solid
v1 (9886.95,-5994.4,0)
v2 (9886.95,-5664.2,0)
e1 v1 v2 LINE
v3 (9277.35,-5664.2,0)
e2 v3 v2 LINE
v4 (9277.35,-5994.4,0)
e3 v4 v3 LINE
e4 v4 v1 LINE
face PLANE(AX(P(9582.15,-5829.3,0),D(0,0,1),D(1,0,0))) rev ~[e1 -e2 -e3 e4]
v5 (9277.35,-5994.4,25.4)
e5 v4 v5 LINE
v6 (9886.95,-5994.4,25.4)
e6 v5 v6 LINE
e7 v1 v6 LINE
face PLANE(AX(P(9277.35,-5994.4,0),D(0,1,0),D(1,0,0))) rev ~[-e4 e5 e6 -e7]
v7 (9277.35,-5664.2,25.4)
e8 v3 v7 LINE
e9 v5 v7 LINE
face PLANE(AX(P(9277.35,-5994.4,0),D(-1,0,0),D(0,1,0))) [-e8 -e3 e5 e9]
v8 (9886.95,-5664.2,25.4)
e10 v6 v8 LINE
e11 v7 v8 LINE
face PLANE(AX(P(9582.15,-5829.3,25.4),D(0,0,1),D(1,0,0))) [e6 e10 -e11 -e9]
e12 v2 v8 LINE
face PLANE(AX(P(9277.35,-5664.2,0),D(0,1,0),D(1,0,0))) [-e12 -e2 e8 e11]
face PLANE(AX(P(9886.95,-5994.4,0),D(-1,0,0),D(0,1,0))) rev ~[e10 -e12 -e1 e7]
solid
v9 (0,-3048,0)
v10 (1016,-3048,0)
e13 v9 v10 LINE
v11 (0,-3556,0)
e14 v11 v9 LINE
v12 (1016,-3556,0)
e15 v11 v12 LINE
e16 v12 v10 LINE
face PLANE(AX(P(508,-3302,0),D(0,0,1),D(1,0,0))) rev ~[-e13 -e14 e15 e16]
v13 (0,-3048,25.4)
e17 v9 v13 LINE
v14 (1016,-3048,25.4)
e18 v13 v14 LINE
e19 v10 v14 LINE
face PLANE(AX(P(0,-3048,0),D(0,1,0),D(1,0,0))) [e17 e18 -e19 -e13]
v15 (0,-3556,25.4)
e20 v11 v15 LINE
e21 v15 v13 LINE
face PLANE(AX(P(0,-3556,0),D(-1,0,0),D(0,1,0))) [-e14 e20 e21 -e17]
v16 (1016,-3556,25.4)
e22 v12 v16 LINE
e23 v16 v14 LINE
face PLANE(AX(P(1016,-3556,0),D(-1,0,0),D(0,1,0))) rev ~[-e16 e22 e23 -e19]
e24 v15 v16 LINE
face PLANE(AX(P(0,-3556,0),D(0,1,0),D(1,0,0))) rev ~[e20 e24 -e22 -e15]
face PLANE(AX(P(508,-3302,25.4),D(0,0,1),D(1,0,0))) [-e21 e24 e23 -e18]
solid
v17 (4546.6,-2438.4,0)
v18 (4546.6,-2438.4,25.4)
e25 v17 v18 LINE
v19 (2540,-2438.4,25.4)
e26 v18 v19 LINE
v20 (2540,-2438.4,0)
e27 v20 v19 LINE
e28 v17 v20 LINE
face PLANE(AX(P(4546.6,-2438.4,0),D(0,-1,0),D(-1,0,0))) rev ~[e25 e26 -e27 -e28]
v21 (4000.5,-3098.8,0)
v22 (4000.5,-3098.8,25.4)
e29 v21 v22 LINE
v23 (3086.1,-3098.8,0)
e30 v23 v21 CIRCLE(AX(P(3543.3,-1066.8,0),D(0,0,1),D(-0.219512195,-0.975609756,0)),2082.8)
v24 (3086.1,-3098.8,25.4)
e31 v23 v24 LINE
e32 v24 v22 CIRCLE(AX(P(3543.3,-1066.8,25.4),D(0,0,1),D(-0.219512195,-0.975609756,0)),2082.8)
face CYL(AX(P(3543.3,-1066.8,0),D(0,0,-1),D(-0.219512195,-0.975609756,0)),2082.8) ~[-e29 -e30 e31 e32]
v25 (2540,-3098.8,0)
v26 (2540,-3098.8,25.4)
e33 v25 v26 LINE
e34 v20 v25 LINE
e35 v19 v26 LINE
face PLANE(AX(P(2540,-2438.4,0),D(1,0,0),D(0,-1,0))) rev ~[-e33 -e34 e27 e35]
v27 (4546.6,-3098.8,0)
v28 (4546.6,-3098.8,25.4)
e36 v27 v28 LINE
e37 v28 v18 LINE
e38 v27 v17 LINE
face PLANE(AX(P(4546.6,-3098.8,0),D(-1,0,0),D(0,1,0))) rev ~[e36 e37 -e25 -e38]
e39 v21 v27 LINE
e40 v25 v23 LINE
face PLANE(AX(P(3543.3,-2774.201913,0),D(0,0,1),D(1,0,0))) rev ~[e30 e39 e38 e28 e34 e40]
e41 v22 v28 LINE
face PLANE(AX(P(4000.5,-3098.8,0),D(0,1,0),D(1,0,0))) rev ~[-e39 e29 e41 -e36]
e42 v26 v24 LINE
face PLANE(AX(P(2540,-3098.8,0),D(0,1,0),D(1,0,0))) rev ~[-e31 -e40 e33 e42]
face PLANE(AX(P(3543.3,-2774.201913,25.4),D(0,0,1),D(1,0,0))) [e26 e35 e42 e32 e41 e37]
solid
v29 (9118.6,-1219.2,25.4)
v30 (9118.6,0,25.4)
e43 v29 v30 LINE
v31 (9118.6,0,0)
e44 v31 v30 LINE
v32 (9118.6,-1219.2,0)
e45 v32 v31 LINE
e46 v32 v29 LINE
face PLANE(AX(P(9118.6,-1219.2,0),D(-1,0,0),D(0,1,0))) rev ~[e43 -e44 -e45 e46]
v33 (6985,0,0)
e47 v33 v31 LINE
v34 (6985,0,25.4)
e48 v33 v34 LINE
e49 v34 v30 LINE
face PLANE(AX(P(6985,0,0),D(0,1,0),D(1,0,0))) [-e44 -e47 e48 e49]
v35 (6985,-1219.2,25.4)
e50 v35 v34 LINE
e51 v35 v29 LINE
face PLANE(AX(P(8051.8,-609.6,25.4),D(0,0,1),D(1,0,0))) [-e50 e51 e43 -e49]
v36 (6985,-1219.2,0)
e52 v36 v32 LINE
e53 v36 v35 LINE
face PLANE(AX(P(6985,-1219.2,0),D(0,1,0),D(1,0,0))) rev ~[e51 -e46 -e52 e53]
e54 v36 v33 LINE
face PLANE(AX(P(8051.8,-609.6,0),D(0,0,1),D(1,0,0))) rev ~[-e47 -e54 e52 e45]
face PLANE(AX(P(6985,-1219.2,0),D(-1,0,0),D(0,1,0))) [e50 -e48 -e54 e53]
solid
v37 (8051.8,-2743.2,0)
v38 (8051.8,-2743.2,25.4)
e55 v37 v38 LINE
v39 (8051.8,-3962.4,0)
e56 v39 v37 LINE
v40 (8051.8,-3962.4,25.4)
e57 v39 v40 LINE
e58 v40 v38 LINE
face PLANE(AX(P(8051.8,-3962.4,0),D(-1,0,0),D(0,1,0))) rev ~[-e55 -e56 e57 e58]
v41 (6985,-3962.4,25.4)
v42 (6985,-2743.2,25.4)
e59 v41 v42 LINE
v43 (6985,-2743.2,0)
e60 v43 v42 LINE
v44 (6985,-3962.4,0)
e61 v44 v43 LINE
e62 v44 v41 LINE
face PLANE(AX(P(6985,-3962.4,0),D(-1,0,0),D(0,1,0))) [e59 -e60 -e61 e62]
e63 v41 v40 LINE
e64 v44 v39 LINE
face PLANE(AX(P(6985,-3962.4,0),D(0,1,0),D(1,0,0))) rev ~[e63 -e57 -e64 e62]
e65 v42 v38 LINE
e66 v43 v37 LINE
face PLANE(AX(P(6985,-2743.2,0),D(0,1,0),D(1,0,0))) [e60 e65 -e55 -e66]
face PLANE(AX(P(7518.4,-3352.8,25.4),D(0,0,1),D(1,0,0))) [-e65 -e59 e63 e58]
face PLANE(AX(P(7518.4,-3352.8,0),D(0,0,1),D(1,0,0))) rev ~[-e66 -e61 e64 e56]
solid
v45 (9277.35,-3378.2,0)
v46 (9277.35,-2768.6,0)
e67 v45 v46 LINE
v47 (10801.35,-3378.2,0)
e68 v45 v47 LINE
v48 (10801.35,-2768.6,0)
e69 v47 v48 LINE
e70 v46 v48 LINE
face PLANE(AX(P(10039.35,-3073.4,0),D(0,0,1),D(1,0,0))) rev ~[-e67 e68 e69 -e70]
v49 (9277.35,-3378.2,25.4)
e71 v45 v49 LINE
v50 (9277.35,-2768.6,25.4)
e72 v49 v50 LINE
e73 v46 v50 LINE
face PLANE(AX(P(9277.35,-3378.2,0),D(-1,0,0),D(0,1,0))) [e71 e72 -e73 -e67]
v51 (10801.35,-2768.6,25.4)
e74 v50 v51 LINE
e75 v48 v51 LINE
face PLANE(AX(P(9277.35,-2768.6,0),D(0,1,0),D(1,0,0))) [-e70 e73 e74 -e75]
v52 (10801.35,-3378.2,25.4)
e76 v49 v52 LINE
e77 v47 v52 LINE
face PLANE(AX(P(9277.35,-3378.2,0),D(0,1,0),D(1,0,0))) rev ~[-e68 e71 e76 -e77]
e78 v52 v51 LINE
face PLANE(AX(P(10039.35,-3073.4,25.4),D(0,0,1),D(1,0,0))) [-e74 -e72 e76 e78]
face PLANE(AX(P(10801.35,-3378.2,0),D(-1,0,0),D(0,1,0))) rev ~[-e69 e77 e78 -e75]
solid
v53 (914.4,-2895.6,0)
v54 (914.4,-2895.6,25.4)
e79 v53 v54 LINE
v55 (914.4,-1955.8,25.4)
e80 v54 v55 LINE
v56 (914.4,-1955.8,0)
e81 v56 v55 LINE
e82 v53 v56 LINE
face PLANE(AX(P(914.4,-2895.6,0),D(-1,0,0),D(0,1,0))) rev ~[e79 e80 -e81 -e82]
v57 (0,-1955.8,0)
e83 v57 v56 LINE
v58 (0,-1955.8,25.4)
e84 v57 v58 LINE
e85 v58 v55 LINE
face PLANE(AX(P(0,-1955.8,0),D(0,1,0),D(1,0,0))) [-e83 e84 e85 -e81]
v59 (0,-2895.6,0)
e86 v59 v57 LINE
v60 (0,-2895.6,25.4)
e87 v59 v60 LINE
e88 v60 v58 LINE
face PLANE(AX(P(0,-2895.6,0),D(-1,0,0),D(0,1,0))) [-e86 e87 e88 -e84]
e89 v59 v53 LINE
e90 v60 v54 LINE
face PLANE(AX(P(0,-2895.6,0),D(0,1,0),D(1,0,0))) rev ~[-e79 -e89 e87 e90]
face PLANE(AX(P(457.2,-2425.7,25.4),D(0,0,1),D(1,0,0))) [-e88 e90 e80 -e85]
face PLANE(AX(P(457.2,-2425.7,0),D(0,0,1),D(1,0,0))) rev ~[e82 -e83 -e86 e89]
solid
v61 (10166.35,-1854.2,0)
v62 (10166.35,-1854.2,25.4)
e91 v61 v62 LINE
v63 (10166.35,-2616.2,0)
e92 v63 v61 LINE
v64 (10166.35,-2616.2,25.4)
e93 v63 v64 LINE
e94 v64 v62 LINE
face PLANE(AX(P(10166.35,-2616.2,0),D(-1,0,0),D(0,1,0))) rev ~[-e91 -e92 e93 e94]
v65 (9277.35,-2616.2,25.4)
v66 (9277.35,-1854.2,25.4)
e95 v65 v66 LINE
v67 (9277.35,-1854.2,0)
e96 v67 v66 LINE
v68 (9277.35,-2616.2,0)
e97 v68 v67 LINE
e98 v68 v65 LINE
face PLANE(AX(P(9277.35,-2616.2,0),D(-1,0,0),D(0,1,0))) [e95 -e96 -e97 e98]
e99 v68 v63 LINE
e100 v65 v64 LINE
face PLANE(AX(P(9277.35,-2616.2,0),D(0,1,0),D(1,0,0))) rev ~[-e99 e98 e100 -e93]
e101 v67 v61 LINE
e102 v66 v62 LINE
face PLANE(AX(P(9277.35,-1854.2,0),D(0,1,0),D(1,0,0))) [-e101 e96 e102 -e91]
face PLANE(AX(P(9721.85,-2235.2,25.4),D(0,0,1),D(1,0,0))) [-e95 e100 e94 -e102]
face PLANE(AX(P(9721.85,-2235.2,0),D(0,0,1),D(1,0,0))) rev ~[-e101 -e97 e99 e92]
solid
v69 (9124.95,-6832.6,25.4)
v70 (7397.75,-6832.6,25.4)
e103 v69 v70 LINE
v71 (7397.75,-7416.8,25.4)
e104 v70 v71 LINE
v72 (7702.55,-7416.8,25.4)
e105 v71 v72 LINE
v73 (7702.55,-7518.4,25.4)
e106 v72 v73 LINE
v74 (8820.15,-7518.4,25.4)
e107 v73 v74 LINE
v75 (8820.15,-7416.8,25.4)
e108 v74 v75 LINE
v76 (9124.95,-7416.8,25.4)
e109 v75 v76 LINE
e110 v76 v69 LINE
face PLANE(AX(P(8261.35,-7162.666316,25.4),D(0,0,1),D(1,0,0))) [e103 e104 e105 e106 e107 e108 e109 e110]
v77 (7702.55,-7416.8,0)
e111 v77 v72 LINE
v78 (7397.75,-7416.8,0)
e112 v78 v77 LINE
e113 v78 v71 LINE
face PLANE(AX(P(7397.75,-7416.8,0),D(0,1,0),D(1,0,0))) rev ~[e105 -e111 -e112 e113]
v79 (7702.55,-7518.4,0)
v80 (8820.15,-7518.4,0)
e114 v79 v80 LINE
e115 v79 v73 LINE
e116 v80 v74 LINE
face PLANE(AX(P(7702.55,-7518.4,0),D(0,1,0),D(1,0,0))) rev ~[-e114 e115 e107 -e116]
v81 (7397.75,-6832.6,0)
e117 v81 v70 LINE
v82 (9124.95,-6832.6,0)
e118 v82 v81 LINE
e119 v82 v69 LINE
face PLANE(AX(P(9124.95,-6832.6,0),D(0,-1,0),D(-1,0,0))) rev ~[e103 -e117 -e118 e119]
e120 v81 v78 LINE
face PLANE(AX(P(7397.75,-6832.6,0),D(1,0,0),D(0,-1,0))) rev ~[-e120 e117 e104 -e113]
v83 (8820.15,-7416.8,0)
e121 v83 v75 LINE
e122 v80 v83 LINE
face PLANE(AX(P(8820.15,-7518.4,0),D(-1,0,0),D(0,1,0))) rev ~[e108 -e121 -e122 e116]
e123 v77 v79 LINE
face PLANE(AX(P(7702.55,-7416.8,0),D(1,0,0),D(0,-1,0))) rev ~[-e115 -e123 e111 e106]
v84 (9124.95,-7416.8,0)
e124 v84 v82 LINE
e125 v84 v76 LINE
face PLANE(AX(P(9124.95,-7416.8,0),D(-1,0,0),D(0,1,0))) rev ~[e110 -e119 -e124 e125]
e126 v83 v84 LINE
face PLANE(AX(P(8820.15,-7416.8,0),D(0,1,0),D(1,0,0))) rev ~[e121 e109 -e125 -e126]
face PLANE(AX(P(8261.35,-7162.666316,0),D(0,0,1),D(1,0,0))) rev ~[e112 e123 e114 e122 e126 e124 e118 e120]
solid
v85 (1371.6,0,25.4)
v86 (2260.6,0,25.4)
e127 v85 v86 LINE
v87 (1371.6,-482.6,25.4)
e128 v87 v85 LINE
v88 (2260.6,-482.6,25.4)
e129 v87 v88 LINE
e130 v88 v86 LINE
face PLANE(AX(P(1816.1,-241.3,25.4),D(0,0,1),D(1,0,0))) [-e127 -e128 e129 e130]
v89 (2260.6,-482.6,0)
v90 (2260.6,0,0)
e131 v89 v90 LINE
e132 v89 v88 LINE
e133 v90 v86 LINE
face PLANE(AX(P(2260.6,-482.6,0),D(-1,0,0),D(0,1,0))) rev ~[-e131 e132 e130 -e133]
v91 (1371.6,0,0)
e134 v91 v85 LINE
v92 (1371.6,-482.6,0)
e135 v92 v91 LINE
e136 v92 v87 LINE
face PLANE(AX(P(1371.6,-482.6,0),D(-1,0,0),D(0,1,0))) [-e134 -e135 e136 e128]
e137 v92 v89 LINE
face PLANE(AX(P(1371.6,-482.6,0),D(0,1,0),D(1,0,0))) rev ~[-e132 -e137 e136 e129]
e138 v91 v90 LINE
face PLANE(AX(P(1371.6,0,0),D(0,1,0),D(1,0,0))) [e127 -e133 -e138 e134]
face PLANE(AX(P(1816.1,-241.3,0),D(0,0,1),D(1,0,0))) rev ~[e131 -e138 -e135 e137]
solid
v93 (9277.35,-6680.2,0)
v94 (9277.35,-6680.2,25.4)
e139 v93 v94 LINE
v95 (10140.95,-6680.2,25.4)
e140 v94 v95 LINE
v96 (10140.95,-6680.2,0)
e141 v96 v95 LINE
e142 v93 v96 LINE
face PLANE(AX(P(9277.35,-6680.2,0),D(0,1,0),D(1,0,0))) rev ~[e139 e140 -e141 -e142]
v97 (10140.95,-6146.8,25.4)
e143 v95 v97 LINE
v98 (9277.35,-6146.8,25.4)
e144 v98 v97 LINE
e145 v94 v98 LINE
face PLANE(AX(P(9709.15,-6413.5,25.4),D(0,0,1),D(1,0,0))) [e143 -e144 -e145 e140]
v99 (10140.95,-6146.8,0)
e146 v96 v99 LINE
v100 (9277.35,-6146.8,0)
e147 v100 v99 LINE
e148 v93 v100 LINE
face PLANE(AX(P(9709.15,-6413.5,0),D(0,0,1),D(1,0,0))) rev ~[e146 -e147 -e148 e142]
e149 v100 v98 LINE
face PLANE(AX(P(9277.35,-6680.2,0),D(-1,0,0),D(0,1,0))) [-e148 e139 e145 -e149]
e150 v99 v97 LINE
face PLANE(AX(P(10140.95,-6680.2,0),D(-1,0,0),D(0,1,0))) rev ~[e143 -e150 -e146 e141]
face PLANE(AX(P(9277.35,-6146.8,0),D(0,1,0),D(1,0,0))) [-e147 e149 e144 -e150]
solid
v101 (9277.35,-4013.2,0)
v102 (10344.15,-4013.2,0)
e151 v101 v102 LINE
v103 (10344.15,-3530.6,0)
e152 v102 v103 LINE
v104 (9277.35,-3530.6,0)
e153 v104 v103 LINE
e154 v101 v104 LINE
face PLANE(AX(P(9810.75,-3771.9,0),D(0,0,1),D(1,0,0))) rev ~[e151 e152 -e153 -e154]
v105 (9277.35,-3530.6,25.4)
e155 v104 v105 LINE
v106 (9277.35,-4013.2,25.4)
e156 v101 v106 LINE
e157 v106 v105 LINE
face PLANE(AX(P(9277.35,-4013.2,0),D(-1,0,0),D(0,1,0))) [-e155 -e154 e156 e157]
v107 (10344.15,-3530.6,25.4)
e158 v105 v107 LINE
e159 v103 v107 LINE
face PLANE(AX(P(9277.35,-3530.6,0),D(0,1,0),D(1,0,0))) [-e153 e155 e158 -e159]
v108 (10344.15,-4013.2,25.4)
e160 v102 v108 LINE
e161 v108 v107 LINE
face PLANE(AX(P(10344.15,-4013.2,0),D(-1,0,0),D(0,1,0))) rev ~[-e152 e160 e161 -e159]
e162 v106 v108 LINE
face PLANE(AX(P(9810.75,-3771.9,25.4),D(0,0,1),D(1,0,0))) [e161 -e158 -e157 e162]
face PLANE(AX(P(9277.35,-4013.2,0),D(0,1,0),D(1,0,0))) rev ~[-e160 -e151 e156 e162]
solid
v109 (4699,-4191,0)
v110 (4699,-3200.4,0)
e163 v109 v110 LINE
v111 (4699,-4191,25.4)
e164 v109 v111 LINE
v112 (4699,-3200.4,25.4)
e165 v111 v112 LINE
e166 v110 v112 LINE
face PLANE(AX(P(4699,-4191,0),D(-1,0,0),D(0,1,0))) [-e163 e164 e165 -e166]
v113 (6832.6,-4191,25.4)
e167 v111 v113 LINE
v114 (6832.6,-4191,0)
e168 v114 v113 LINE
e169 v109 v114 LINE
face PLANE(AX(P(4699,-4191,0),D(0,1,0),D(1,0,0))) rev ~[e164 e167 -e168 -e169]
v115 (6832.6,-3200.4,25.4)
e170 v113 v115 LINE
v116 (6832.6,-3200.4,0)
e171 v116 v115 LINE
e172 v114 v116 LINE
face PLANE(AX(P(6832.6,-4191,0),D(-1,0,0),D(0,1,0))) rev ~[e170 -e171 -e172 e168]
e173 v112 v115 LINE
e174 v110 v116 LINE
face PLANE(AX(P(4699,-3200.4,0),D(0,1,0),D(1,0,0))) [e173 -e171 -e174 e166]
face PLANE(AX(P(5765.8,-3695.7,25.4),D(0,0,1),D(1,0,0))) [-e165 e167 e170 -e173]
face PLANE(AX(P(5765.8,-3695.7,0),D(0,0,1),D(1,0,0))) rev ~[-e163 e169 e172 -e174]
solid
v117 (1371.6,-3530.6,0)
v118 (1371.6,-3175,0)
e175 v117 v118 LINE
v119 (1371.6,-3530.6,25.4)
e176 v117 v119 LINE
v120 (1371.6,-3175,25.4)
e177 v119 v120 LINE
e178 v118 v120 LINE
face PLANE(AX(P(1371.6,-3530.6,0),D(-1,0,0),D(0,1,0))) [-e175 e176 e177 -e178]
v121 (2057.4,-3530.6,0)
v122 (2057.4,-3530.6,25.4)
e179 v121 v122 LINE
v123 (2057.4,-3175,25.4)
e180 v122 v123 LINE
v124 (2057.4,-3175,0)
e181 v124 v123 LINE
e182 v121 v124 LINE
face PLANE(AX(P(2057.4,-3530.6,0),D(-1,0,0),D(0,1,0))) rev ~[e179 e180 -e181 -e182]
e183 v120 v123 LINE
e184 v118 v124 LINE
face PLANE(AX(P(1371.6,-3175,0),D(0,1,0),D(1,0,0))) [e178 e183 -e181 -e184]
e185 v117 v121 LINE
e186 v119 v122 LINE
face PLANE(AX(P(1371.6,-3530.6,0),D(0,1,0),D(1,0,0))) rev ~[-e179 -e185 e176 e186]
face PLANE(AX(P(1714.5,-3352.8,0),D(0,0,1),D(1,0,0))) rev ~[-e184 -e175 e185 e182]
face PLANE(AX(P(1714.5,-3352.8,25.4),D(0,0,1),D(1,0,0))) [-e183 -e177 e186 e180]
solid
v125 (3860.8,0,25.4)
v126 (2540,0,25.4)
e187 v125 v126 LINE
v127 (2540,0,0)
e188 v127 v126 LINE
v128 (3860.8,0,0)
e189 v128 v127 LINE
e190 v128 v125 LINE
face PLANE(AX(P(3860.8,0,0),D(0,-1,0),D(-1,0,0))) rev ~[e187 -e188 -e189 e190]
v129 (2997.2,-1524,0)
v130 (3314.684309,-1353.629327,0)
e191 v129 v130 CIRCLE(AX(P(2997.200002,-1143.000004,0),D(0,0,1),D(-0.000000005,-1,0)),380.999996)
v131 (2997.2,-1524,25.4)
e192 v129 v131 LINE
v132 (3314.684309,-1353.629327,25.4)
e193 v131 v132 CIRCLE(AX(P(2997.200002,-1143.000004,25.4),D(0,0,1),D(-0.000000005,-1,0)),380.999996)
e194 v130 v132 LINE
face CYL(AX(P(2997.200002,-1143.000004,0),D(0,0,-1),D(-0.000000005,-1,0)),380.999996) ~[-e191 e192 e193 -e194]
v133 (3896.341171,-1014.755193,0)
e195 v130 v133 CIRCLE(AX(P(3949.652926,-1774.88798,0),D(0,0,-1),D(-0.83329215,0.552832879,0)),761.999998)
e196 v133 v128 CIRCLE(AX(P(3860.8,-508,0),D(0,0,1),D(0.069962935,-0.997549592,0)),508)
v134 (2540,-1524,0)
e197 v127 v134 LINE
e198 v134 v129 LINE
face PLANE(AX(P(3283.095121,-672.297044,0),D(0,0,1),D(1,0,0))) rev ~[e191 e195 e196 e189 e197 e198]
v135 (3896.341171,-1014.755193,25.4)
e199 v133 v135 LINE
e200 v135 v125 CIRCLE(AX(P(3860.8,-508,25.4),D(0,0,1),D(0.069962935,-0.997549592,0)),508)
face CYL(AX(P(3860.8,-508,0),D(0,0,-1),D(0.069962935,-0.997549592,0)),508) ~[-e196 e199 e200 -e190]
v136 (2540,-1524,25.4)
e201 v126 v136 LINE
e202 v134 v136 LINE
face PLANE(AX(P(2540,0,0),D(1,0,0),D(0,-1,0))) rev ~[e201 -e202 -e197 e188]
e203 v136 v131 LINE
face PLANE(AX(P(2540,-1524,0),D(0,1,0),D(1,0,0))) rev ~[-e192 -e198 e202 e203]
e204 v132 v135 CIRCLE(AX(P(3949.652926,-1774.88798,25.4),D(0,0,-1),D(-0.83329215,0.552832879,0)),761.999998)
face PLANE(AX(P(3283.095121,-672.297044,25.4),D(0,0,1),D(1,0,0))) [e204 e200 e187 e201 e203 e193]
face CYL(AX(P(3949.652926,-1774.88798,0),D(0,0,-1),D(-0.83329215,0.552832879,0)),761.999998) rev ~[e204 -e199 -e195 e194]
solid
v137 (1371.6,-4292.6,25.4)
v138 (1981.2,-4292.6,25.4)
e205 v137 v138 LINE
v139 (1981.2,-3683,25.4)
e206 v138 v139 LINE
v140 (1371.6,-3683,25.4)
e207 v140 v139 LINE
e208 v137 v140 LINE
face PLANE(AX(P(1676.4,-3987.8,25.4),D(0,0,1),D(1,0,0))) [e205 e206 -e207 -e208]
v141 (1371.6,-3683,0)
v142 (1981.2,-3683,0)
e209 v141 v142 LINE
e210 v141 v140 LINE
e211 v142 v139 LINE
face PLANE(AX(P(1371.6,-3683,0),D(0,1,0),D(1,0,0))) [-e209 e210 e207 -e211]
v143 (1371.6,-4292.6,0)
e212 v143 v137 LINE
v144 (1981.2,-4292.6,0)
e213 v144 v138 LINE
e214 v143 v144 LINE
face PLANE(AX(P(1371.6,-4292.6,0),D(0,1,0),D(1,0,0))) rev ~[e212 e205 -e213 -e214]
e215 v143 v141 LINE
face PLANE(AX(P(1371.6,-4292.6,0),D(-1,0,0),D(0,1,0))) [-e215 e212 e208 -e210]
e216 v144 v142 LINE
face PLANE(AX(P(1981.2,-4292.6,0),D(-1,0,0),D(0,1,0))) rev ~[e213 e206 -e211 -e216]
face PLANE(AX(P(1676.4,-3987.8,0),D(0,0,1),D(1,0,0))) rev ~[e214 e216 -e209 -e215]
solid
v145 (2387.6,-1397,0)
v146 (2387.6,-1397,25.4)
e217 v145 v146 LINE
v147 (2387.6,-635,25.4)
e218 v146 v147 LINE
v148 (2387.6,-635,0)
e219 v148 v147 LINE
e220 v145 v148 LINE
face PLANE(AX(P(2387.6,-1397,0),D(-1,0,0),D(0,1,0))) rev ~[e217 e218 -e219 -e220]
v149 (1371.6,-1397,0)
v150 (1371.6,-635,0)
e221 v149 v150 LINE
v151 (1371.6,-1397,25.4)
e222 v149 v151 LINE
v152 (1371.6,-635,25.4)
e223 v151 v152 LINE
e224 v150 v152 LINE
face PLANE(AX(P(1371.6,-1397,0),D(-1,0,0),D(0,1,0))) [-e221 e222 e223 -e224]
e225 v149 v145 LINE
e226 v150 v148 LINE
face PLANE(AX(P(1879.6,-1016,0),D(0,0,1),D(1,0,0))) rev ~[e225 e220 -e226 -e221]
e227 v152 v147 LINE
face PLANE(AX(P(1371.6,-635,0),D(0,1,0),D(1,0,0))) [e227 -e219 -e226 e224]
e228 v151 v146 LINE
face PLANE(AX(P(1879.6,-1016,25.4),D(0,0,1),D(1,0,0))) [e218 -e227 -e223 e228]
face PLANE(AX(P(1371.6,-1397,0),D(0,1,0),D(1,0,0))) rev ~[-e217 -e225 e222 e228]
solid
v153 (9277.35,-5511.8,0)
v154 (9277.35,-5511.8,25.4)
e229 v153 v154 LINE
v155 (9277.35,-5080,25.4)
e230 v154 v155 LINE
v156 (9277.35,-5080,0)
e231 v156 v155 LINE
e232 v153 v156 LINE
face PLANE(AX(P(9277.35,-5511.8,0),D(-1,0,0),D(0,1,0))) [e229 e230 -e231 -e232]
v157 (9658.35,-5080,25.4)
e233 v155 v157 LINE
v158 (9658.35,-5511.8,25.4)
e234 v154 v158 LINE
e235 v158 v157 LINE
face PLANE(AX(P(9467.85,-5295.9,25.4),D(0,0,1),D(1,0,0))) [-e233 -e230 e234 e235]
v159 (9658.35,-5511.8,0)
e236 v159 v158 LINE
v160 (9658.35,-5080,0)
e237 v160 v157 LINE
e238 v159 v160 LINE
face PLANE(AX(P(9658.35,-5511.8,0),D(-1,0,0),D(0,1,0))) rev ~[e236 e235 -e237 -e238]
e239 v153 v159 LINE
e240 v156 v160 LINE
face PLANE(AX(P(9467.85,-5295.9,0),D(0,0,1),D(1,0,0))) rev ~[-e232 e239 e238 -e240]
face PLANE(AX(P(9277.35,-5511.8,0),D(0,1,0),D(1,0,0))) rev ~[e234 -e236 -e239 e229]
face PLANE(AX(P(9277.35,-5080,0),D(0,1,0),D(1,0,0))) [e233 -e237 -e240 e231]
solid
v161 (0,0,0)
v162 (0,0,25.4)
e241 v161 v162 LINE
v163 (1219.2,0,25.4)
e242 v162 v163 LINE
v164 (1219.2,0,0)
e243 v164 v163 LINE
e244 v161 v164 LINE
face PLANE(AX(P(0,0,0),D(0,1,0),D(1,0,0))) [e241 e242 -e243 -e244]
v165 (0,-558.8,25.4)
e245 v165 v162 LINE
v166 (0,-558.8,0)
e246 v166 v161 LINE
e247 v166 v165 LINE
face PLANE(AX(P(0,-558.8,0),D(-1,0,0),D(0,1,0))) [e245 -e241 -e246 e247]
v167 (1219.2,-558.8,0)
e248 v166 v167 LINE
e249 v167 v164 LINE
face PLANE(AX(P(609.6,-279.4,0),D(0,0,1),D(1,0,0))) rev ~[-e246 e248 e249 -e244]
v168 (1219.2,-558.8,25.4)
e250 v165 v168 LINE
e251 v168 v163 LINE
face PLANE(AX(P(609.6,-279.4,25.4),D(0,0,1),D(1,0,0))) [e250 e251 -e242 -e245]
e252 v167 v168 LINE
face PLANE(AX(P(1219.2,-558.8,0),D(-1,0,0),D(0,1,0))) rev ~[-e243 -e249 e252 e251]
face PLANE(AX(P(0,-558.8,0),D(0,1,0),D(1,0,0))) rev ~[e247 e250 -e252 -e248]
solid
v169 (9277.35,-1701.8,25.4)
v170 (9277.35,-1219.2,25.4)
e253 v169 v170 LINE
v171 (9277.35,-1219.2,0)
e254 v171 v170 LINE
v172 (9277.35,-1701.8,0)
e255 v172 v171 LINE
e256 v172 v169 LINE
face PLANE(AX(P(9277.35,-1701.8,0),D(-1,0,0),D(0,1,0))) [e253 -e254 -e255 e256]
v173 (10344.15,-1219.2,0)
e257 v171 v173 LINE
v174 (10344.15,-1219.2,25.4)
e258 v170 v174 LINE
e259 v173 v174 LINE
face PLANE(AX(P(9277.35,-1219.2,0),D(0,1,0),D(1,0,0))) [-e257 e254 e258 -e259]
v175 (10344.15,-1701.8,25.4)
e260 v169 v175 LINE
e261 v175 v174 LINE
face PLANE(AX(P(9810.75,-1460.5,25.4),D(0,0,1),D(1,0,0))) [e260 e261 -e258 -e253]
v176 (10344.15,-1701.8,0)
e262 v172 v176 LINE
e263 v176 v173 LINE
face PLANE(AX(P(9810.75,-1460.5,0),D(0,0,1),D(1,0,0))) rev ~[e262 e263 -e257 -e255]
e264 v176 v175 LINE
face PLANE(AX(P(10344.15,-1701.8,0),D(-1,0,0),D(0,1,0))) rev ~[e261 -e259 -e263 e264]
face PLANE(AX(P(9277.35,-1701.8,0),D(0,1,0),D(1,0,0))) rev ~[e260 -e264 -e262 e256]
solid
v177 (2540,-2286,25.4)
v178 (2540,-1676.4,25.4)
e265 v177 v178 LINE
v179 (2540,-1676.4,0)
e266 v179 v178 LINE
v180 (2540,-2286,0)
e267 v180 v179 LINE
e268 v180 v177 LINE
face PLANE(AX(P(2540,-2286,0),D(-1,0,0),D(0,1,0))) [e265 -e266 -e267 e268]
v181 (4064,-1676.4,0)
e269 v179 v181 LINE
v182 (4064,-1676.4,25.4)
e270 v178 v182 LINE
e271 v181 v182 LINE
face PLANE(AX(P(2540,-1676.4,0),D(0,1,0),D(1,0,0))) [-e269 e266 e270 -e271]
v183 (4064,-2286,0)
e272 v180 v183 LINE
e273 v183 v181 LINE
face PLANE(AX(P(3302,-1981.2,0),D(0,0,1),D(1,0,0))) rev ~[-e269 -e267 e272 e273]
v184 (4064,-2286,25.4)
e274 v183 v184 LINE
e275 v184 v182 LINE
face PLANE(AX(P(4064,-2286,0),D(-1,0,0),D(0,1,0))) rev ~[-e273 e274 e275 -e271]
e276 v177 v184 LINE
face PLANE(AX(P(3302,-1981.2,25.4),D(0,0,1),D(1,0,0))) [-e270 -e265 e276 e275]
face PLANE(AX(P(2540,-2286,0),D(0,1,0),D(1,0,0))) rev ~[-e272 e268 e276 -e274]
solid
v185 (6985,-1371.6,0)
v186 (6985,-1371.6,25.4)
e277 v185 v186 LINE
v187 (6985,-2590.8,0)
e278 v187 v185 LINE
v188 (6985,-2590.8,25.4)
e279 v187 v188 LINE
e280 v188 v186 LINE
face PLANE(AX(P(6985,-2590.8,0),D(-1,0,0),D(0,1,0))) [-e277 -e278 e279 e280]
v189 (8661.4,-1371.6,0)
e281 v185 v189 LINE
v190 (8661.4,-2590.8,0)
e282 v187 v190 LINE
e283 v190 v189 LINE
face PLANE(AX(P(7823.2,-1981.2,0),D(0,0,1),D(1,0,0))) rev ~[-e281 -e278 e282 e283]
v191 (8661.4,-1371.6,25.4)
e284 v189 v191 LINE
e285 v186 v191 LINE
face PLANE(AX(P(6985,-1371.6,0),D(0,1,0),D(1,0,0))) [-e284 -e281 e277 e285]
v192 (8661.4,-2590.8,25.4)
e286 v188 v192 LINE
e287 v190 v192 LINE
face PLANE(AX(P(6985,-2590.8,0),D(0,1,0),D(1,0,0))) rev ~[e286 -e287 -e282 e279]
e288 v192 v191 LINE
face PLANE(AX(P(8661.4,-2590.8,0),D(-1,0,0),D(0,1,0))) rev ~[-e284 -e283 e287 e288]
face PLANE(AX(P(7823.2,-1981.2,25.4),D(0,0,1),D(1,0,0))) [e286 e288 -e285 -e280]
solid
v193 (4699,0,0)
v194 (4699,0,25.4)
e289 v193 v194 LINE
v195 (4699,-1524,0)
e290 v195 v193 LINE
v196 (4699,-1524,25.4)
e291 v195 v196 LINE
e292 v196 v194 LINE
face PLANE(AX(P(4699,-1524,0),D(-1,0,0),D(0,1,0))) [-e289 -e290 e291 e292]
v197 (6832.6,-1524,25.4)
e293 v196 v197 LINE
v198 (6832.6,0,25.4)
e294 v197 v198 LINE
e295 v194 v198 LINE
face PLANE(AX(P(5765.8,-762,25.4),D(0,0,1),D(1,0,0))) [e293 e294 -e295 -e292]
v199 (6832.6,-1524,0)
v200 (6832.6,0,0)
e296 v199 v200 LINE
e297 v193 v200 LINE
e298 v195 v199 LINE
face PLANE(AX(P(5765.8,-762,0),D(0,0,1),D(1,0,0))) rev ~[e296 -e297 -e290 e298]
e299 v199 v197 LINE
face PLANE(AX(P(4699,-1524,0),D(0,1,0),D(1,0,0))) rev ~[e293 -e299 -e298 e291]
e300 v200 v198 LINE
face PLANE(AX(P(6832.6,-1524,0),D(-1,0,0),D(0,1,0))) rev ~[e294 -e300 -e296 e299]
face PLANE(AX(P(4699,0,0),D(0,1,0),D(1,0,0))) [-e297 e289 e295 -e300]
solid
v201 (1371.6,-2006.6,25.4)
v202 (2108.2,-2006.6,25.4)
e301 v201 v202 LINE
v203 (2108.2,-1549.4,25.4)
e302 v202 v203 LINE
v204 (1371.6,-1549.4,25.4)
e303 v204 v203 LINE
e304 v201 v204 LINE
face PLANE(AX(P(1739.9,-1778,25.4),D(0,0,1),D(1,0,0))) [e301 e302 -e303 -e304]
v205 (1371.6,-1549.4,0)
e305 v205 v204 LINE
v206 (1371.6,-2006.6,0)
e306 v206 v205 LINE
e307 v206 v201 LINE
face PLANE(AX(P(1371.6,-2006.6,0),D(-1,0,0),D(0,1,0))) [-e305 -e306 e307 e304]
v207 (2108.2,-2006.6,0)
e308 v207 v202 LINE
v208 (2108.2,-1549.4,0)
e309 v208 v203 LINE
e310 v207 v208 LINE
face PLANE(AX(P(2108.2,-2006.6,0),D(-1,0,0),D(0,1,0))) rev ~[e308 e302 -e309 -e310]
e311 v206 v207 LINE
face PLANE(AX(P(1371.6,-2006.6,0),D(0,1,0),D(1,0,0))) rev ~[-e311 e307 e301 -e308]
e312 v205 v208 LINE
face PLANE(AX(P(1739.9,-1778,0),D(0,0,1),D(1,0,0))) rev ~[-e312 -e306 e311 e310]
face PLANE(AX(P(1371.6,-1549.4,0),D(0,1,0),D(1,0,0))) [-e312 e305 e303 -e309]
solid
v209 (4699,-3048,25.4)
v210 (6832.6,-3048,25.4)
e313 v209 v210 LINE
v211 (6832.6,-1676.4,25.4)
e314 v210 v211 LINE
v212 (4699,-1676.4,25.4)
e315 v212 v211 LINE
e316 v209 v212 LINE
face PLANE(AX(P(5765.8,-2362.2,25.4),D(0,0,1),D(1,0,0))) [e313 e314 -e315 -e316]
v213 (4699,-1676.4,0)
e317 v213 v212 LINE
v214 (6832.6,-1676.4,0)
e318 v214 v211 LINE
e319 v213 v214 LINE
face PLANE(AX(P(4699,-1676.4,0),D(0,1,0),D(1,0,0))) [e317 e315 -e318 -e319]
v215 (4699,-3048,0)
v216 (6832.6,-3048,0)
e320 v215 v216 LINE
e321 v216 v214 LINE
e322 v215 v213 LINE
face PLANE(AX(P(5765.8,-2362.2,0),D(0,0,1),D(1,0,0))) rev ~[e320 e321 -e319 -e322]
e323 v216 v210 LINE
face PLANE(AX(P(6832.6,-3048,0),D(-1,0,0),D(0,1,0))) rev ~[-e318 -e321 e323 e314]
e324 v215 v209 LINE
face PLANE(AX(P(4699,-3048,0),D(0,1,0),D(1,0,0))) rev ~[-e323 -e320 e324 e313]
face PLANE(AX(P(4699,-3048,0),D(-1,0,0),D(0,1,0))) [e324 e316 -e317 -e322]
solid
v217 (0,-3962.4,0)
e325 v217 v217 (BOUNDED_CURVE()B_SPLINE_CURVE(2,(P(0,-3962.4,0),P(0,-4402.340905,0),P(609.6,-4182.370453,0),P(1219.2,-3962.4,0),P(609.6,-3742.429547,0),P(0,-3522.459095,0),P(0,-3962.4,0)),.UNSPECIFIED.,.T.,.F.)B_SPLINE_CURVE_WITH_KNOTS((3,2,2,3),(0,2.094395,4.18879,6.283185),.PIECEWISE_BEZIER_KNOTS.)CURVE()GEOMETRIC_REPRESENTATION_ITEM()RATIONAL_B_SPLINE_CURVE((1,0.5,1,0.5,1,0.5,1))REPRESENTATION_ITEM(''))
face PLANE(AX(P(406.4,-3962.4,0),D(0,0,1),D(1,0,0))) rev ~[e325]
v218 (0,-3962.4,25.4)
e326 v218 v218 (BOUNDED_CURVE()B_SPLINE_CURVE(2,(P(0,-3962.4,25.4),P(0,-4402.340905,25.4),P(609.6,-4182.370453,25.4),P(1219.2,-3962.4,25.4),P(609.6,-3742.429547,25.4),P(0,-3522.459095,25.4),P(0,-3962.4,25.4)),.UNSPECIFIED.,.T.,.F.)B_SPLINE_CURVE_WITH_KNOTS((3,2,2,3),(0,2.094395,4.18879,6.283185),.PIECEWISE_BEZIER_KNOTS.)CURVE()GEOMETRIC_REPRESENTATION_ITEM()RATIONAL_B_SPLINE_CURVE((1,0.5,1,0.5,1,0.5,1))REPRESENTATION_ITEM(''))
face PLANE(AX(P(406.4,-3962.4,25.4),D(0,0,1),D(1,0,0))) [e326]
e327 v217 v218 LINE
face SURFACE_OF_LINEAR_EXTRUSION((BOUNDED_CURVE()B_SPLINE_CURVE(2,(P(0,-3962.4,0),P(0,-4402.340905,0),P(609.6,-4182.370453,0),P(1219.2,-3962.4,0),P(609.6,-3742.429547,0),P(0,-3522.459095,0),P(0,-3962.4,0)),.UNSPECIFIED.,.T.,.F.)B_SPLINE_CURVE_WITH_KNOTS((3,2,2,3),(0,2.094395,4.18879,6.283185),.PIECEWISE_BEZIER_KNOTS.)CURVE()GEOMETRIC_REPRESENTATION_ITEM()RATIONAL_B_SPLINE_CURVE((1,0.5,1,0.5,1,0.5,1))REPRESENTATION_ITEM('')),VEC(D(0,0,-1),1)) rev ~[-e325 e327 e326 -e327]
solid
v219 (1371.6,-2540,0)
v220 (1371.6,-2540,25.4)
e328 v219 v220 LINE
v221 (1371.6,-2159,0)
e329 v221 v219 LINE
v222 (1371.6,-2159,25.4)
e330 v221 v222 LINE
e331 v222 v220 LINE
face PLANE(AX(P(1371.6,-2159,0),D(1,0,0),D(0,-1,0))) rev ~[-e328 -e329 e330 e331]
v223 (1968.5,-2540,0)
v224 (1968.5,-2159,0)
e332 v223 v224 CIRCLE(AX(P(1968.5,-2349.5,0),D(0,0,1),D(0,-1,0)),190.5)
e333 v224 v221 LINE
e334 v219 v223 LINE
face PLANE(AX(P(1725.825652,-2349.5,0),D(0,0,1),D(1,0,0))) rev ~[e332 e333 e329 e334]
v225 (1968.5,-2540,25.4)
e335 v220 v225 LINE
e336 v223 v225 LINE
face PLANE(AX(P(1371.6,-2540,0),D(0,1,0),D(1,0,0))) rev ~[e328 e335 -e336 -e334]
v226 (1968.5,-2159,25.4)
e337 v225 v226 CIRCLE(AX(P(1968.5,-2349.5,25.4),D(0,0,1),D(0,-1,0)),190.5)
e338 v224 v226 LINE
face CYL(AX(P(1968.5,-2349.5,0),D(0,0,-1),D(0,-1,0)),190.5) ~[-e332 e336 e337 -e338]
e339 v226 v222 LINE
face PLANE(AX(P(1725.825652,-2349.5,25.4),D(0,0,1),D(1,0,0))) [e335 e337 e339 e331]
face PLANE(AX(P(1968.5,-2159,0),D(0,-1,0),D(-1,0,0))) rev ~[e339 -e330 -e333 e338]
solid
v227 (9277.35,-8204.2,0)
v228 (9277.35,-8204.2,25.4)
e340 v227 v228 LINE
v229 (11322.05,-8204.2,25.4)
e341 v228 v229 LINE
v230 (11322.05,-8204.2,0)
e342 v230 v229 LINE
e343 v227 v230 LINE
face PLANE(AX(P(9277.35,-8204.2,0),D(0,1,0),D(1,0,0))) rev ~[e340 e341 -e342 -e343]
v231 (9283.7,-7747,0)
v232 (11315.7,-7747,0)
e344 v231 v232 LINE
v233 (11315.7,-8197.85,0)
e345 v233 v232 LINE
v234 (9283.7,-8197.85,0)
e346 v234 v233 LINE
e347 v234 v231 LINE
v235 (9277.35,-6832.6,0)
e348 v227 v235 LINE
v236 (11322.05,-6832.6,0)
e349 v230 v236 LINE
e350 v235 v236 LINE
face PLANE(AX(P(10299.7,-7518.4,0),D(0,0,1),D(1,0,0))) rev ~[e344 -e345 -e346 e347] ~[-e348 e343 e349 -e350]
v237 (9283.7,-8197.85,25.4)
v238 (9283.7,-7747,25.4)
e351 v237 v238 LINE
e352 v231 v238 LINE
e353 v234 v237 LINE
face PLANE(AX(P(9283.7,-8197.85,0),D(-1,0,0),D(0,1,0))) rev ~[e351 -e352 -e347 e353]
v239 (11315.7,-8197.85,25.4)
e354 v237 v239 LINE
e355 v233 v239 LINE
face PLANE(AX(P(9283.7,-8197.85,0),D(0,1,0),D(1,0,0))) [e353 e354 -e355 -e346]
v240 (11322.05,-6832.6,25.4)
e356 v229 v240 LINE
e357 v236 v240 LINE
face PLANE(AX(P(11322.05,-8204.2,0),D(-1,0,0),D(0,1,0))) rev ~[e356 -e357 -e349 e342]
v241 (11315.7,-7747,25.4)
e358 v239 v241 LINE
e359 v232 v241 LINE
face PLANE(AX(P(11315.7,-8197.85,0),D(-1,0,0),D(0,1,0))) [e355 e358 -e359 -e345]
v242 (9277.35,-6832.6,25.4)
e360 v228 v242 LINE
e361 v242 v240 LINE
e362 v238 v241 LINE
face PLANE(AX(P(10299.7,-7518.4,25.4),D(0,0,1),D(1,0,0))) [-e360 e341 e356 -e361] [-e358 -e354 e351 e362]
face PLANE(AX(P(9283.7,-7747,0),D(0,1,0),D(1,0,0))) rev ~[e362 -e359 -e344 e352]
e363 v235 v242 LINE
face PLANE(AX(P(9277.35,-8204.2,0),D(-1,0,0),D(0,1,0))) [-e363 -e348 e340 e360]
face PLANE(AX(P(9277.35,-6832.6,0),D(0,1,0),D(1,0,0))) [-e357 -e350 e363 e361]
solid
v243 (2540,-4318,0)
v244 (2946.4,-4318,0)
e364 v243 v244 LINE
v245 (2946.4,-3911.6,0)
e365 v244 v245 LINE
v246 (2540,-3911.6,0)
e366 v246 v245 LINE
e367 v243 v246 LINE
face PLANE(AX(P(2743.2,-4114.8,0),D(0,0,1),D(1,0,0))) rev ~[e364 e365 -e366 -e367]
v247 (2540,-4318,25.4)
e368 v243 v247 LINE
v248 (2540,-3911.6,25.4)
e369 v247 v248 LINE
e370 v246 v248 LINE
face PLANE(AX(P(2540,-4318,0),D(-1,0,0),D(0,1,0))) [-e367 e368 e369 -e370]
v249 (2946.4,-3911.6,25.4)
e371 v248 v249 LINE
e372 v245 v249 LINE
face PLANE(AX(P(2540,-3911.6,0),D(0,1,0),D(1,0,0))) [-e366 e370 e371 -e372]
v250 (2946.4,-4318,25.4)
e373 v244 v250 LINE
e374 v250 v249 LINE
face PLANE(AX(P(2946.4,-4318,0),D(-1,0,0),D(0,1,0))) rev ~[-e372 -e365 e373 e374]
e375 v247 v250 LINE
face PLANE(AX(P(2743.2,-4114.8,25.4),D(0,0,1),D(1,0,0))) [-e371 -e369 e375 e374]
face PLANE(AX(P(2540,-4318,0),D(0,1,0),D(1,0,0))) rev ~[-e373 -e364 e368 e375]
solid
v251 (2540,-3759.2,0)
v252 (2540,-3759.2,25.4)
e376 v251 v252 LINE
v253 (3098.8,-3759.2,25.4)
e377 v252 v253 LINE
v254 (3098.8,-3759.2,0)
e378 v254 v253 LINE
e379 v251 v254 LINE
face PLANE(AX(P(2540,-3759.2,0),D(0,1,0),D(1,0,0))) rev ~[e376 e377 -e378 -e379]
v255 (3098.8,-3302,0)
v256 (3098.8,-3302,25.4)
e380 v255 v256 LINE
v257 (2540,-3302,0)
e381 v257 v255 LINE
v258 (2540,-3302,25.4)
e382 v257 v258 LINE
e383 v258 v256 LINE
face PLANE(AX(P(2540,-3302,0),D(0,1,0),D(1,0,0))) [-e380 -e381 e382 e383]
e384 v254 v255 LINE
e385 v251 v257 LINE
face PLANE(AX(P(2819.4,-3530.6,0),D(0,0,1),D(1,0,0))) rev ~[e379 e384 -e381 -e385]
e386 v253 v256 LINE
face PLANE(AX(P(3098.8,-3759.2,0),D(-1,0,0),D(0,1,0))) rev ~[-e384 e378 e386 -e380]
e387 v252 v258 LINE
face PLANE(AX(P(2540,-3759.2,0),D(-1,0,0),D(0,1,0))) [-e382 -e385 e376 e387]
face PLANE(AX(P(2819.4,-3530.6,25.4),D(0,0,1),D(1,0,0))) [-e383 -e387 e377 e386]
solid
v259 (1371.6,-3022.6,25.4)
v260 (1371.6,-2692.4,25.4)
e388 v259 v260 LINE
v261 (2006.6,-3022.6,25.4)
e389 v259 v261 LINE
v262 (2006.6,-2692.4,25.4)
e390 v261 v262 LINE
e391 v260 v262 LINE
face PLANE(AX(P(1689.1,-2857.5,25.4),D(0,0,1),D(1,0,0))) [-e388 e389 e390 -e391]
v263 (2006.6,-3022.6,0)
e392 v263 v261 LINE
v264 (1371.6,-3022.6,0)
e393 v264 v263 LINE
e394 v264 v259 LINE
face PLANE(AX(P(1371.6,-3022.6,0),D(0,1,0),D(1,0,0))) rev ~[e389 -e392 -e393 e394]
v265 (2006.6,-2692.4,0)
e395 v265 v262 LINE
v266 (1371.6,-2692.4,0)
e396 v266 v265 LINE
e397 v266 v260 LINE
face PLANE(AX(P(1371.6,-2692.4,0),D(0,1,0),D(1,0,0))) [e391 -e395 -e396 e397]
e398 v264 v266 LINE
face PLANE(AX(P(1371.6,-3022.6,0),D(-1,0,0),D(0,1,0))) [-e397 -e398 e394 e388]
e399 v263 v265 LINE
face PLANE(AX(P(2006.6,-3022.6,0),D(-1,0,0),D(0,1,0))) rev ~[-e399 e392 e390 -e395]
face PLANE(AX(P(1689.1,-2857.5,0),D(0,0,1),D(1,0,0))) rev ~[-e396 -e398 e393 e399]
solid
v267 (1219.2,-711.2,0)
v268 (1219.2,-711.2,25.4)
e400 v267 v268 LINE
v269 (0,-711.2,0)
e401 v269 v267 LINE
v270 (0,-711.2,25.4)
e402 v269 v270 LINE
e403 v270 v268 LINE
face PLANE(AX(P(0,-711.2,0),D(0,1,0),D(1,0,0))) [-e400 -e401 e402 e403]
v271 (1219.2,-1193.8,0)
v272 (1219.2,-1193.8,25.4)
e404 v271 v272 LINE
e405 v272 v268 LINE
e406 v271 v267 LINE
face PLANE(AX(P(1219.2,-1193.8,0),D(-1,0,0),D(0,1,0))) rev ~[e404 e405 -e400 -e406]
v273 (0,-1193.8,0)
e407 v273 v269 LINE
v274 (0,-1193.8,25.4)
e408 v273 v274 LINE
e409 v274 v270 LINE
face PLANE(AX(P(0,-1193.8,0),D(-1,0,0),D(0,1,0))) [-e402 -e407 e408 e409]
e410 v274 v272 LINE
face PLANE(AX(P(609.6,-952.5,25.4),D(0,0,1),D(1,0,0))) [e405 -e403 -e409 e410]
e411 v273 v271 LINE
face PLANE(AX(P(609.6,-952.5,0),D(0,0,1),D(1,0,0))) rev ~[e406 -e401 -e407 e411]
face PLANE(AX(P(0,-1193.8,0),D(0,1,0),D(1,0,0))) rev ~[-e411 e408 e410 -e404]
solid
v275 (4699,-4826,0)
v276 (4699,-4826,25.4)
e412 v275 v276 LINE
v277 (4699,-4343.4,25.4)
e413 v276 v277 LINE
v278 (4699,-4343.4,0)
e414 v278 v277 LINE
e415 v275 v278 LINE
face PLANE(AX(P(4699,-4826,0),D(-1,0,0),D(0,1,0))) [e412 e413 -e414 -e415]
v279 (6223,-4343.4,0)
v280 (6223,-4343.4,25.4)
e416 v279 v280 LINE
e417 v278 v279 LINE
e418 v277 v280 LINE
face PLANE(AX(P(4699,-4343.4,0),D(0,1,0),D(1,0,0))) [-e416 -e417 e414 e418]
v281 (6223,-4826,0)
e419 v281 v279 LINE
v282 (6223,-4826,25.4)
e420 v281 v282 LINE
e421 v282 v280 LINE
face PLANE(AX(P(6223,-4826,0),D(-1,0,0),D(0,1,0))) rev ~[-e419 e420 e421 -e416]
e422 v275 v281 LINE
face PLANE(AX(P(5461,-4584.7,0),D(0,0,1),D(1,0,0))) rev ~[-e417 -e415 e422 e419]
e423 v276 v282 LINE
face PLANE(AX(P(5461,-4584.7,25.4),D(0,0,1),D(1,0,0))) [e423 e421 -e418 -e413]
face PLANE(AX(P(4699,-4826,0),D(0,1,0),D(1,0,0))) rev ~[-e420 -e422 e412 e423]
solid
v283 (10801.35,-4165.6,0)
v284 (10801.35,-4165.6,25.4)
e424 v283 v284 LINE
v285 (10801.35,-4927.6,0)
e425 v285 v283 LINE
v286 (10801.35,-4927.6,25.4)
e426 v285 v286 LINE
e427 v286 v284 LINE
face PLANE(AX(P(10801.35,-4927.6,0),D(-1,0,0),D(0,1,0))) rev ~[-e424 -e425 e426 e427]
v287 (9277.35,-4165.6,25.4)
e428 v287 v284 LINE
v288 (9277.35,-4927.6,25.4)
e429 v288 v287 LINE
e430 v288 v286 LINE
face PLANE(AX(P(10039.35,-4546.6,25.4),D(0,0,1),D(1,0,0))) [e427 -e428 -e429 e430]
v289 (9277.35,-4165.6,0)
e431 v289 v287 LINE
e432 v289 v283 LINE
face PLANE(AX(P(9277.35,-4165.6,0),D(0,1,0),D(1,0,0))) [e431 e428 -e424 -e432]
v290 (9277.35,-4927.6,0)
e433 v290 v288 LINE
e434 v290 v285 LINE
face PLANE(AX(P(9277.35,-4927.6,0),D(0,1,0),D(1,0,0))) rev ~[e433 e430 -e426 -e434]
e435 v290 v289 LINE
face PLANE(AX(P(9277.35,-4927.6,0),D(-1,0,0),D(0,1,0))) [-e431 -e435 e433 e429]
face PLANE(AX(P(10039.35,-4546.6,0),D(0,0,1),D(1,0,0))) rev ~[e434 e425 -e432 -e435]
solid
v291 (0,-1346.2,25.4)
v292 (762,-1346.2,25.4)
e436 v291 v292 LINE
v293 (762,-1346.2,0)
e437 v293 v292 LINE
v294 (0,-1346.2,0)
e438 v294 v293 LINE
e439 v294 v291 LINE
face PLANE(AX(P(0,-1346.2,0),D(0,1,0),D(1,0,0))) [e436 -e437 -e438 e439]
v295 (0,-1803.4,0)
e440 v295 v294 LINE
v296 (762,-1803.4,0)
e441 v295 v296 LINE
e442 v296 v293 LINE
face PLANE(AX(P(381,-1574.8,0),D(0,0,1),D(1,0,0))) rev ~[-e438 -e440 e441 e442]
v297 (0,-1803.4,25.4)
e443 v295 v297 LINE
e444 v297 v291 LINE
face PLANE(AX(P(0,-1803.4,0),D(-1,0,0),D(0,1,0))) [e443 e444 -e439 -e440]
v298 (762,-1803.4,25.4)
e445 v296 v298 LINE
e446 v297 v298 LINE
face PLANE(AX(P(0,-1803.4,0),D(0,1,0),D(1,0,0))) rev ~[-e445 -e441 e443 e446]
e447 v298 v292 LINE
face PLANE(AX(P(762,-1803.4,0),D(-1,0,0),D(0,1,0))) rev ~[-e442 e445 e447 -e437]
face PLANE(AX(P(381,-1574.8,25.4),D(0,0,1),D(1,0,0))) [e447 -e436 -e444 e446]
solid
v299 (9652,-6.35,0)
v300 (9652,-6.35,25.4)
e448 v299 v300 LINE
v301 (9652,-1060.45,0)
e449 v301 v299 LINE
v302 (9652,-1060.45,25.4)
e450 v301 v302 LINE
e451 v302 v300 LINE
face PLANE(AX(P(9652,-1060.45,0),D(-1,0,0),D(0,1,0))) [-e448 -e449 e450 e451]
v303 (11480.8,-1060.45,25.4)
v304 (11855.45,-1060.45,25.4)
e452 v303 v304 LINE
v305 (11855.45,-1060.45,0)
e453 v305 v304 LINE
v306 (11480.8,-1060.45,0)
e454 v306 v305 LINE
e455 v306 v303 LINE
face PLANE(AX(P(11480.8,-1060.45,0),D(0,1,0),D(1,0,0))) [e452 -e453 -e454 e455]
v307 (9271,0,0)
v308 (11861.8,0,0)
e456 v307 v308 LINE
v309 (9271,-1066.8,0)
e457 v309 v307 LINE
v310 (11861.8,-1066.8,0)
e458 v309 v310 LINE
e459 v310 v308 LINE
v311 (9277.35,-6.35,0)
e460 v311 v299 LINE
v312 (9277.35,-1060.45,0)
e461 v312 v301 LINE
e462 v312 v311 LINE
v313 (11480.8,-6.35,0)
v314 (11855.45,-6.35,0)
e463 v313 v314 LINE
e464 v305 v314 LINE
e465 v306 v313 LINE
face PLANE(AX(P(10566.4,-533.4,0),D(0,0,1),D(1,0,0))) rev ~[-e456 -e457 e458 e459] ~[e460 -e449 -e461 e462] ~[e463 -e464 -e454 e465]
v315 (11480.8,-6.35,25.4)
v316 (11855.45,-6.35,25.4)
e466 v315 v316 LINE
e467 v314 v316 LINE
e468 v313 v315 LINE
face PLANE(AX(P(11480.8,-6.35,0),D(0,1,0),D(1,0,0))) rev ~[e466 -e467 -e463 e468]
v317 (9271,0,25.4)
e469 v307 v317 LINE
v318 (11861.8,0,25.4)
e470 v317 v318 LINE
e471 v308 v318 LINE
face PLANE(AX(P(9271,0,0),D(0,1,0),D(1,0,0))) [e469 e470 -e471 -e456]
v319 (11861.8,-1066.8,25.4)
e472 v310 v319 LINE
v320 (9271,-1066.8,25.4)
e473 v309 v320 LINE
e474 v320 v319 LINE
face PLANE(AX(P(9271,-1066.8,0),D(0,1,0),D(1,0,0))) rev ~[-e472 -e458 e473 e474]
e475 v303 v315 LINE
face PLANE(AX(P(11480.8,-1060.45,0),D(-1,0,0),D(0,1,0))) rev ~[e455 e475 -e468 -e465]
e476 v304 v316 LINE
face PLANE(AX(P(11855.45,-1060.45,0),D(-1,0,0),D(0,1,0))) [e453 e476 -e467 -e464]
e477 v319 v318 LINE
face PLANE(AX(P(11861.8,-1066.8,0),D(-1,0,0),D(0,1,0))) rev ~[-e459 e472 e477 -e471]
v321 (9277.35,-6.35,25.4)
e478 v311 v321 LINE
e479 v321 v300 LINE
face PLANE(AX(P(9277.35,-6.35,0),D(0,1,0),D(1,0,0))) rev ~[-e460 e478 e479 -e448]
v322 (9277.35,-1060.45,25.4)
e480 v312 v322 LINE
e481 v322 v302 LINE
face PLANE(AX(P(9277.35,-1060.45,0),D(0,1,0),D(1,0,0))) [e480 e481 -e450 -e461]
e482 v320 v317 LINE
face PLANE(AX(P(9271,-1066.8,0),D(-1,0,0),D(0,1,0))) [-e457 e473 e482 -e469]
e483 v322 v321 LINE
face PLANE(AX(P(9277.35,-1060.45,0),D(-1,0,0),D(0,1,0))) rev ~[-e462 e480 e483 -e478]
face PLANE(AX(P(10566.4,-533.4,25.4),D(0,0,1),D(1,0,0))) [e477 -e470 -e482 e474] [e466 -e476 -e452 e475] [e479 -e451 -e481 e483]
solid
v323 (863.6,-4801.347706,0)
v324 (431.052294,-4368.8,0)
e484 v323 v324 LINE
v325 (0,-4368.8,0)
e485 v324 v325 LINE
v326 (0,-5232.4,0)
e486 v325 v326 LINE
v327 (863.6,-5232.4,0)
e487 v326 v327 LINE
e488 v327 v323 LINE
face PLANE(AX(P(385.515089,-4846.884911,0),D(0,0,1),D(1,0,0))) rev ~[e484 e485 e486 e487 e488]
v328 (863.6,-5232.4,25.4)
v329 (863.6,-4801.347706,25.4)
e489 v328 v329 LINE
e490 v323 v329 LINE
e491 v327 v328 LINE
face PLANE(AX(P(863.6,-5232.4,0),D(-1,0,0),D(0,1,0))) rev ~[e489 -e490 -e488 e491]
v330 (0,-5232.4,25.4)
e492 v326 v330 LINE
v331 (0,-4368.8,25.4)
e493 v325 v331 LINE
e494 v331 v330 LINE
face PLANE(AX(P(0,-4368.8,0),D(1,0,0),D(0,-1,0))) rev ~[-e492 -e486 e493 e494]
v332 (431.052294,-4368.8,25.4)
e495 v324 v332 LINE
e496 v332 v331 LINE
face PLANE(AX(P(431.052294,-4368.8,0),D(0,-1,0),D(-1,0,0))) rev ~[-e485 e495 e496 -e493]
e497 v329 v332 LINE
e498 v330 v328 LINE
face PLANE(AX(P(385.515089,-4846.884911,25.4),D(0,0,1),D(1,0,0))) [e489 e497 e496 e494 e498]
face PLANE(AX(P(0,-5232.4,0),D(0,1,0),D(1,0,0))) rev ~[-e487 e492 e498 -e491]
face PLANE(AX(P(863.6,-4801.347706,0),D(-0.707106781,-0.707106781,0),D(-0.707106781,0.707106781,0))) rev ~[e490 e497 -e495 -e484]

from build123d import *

# Parameters (mm, degrees)
F0_W     = 1219.2
F0_H     = 558.8
F0_H_2   = 482.6
F0_W_2   = 762
F0_H_3   = 457.2
F0_W_3   = 914.4
F0_H_4   = 939.8
F0_W_4   = 1016
F0_H_5   = 508
F0_W_5   = 889
F0_H_6   = 762
F0_W_6   = 736.6
F0_W_7   = 635
F0_H_7   = 330.2
F0_W_8   = 685.8
F0_H_8   = 355.6
F0_W_9   = 609.6
F0_H_9   = 609.6
F0_W_10  = 1524
F0_W_11  = 558.8
F0_W_12  = 406.4
F0_H_10  = 406.4
F0_W_13  = 2133.6
F0_H_11  = 1524
F0_H_12  = 1371.6
F0_H_13  = 990.6
F0_H_14  = 1219.2
F0_W_14  = 1676.4
F0_W_15  = 1066.8
F0_W_16  = 2590.8
F0_H_15  = 1066.8
F0_W_17  = 374.65
F0_H_16  = 1054.1
F0_W_18  = 381
F0_H_17  = 431.8
F0_W_19  = 863.6
F0_H_18  = 533.4
F0_W_20  = 2044.7
F0_W_21  = 2032
F0_H_19  = 450.85
F1_DEPTH = 25.4


with BuildPart() as f1:
    # F0 (on Top) → F1 (new body)
    with BuildSketch(Plane.XY):
        with Locations((609.6, -279.4)):
            Rectangle(F0_W, F0_H)
        with Locations((609.6, -952.5)):
            Rectangle(F0_W, F0_H_2)
        with Locations((381, -1574.8)):
            Rectangle(F0_W_2, F0_H_3)
        with Locations((457.2, -2425.7)):
            Rectangle(F0_W_3, F0_H_4)
        with Locations((508, -3302)):
            Rectangle(F0_W_4, F0_H_5)
        with BuildLine():
            add(Edge.make_bspline(
                [(0, -3962.4), (0, -4402.340905), (609.6, -4182.370453), (1219.2, -3962.4), (609.6, -3742.429547), (0, -3522.459095), (0, -3962.4)],
                knots=[0, 0, 0, 2.094395, 2.094395, 4.18879, 4.18879, 6.283185, 6.283185, 6.283185], degree=2, weights=[1, 0.5, 1, 0.5, 1, 0.5, 1]))
        make_face()
        with Locations((1816.1, -241.3)):
            Rectangle(F0_W_5, F0_H_2)
        with Locations((1879.6, -1016)):
            Rectangle(F0_W_4, F0_H_6)
        with Locations((1739.9, -1778)):
            Rectangle(F0_W_6, F0_H_3)
        with BuildLine():
            Line((1968.5, -2159), (1371.6, -2159))
            Line((1371.6, -2159), (1371.6, -2540))
            Line((1371.6, -2540), (1968.5, -2540))
            ThreePointArc((1968.5, -2540), (2159, -2349.5), (1968.5, -2159))
        make_face()
        with Locations((1689.1, -2857.5)):
            Rectangle(F0_W_7, F0_H_7)
        with Locations((1714.5, -3352.8)):
            Rectangle(F0_W_8, F0_H_8)
        with Locations((1676.4, -3987.8)):
            Rectangle(F0_W_9, F0_H_9)
        with BuildLine():
            Line((3860.8, 0), (2540, 0))
            Line((2540, 0), (2540, -1524))
            Line((2540, -1524), (2997.2, -1524))
            ThreePointArc((2997.2, -1524), (3177.354415, -1478.71623), (3314.684309, -1353.629327))
            ThreePointArc((3314.684309, -1353.629327), (3566.062797, -1116.478829), (3896.341171, -1014.755193))
            ThreePointArc((3896.341171, -1014.755193), (4368.488703, -490.218518), (3860.8, 0))
        make_face()
        with Locations((3302, -1981.2)):
            Rectangle(F0_W_10, F0_H_9)
        with BuildLine():
            Line((2540, -3098.8), (3086.1, -3098.8))
            ThreePointArc((3086.1, -3098.8), (3543.3, -3149.6), (4000.5, -3098.8))
            Line((4000.5, -3098.8), (4546.6, -3098.8))
            Line((4546.6, -3098.8), (4546.6, -2438.4))
            Line((4546.6, -2438.4), (2540, -2438.4))
            Line((2540, -2438.4), (2540, -3098.8))
        make_face()
        with Locations((2819.4, -3530.6)):
            Rectangle(F0_W_11, F0_H_3)
        with Locations((2743.2, -4114.8)):
            Rectangle(F0_W_12, F0_H_10)
        with Locations((5765.8, -762)):
            Rectangle(F0_W_13, F0_H_11)
        with Locations((5765.8, -2362.2)):
            Rectangle(F0_W_13, F0_H_12)
        with Locations((5765.8, -3695.7)):
            Rectangle(F0_W_13, F0_H_13)
        with Locations((8051.8, -609.6)):
            Rectangle(F0_W_13, F0_H_14)
        with Locations((7823.2, -1981.2)):
            Rectangle(F0_W_14, F0_H_14)
        with Locations((7518.4, -3352.8)):
            Rectangle(F0_W_15, F0_H_14)
        with Locations((10566.4, -533.4)):
            Rectangle(F0_W_16, F0_H_15)
        with Locations((9464.675, -533.4)):
            Rectangle(F0_W_17, F0_H_16, mode=Mode.SUBTRACT)
        with Locations((11668.125, -533.4)):
            Rectangle(F0_W_17, F0_H_16, mode=Mode.SUBTRACT)
        with Locations((9810.75, -1460.5)):
            Rectangle(F0_W_15, F0_H_2)
        with Locations((9721.85, -2235.2)):
            Rectangle(F0_W_5, F0_H_6)
        with Locations((10039.35, -3073.4)):
            Rectangle(F0_W_10, F0_H_9)
        with Locations((9810.75, -3771.9)):
            Rectangle(F0_W_15, F0_H_2)
        with Locations((10039.35, -4546.6)):
            Rectangle(F0_W_10, F0_H_6)
        with Locations((9467.85, -5295.9)):
            Rectangle(F0_W_18, F0_H_17)
        with Locations((9582.15, -5829.3)):
            Rectangle(F0_W_9, F0_H_7)
        with Locations((9709.15, -6413.5)):
            Rectangle(F0_W_19, F0_H_18)
        with Locations((10299.7, -7518.4)):
            Rectangle(F0_W_20, F0_H_12)
        with Locations((10299.7, -7972.425)):
            Rectangle(F0_W_21, F0_H_19, mode=Mode.SUBTRACT)
        Polygon((9124.95, -7416.8), (9124.95, -6832.6), (7397.75, -6832.6), (7397.75, -7416.8), (7702.55, -7416.8), (7702.55, -7518.4), (8820.15, -7518.4), (8820.15, -7416.8), align=None)
        Polygon((431.052294, -4368.8), (0, -4368.8), (0, -5232.4), (863.6, -5232.4), (863.6, -4801.347706), align=None)
        with Locations((5461, -4584.7)):
            Rectangle(F0_W_10, F0_H_2)
    extrude(amount=F1_DEPTH)


solid = f1.part
